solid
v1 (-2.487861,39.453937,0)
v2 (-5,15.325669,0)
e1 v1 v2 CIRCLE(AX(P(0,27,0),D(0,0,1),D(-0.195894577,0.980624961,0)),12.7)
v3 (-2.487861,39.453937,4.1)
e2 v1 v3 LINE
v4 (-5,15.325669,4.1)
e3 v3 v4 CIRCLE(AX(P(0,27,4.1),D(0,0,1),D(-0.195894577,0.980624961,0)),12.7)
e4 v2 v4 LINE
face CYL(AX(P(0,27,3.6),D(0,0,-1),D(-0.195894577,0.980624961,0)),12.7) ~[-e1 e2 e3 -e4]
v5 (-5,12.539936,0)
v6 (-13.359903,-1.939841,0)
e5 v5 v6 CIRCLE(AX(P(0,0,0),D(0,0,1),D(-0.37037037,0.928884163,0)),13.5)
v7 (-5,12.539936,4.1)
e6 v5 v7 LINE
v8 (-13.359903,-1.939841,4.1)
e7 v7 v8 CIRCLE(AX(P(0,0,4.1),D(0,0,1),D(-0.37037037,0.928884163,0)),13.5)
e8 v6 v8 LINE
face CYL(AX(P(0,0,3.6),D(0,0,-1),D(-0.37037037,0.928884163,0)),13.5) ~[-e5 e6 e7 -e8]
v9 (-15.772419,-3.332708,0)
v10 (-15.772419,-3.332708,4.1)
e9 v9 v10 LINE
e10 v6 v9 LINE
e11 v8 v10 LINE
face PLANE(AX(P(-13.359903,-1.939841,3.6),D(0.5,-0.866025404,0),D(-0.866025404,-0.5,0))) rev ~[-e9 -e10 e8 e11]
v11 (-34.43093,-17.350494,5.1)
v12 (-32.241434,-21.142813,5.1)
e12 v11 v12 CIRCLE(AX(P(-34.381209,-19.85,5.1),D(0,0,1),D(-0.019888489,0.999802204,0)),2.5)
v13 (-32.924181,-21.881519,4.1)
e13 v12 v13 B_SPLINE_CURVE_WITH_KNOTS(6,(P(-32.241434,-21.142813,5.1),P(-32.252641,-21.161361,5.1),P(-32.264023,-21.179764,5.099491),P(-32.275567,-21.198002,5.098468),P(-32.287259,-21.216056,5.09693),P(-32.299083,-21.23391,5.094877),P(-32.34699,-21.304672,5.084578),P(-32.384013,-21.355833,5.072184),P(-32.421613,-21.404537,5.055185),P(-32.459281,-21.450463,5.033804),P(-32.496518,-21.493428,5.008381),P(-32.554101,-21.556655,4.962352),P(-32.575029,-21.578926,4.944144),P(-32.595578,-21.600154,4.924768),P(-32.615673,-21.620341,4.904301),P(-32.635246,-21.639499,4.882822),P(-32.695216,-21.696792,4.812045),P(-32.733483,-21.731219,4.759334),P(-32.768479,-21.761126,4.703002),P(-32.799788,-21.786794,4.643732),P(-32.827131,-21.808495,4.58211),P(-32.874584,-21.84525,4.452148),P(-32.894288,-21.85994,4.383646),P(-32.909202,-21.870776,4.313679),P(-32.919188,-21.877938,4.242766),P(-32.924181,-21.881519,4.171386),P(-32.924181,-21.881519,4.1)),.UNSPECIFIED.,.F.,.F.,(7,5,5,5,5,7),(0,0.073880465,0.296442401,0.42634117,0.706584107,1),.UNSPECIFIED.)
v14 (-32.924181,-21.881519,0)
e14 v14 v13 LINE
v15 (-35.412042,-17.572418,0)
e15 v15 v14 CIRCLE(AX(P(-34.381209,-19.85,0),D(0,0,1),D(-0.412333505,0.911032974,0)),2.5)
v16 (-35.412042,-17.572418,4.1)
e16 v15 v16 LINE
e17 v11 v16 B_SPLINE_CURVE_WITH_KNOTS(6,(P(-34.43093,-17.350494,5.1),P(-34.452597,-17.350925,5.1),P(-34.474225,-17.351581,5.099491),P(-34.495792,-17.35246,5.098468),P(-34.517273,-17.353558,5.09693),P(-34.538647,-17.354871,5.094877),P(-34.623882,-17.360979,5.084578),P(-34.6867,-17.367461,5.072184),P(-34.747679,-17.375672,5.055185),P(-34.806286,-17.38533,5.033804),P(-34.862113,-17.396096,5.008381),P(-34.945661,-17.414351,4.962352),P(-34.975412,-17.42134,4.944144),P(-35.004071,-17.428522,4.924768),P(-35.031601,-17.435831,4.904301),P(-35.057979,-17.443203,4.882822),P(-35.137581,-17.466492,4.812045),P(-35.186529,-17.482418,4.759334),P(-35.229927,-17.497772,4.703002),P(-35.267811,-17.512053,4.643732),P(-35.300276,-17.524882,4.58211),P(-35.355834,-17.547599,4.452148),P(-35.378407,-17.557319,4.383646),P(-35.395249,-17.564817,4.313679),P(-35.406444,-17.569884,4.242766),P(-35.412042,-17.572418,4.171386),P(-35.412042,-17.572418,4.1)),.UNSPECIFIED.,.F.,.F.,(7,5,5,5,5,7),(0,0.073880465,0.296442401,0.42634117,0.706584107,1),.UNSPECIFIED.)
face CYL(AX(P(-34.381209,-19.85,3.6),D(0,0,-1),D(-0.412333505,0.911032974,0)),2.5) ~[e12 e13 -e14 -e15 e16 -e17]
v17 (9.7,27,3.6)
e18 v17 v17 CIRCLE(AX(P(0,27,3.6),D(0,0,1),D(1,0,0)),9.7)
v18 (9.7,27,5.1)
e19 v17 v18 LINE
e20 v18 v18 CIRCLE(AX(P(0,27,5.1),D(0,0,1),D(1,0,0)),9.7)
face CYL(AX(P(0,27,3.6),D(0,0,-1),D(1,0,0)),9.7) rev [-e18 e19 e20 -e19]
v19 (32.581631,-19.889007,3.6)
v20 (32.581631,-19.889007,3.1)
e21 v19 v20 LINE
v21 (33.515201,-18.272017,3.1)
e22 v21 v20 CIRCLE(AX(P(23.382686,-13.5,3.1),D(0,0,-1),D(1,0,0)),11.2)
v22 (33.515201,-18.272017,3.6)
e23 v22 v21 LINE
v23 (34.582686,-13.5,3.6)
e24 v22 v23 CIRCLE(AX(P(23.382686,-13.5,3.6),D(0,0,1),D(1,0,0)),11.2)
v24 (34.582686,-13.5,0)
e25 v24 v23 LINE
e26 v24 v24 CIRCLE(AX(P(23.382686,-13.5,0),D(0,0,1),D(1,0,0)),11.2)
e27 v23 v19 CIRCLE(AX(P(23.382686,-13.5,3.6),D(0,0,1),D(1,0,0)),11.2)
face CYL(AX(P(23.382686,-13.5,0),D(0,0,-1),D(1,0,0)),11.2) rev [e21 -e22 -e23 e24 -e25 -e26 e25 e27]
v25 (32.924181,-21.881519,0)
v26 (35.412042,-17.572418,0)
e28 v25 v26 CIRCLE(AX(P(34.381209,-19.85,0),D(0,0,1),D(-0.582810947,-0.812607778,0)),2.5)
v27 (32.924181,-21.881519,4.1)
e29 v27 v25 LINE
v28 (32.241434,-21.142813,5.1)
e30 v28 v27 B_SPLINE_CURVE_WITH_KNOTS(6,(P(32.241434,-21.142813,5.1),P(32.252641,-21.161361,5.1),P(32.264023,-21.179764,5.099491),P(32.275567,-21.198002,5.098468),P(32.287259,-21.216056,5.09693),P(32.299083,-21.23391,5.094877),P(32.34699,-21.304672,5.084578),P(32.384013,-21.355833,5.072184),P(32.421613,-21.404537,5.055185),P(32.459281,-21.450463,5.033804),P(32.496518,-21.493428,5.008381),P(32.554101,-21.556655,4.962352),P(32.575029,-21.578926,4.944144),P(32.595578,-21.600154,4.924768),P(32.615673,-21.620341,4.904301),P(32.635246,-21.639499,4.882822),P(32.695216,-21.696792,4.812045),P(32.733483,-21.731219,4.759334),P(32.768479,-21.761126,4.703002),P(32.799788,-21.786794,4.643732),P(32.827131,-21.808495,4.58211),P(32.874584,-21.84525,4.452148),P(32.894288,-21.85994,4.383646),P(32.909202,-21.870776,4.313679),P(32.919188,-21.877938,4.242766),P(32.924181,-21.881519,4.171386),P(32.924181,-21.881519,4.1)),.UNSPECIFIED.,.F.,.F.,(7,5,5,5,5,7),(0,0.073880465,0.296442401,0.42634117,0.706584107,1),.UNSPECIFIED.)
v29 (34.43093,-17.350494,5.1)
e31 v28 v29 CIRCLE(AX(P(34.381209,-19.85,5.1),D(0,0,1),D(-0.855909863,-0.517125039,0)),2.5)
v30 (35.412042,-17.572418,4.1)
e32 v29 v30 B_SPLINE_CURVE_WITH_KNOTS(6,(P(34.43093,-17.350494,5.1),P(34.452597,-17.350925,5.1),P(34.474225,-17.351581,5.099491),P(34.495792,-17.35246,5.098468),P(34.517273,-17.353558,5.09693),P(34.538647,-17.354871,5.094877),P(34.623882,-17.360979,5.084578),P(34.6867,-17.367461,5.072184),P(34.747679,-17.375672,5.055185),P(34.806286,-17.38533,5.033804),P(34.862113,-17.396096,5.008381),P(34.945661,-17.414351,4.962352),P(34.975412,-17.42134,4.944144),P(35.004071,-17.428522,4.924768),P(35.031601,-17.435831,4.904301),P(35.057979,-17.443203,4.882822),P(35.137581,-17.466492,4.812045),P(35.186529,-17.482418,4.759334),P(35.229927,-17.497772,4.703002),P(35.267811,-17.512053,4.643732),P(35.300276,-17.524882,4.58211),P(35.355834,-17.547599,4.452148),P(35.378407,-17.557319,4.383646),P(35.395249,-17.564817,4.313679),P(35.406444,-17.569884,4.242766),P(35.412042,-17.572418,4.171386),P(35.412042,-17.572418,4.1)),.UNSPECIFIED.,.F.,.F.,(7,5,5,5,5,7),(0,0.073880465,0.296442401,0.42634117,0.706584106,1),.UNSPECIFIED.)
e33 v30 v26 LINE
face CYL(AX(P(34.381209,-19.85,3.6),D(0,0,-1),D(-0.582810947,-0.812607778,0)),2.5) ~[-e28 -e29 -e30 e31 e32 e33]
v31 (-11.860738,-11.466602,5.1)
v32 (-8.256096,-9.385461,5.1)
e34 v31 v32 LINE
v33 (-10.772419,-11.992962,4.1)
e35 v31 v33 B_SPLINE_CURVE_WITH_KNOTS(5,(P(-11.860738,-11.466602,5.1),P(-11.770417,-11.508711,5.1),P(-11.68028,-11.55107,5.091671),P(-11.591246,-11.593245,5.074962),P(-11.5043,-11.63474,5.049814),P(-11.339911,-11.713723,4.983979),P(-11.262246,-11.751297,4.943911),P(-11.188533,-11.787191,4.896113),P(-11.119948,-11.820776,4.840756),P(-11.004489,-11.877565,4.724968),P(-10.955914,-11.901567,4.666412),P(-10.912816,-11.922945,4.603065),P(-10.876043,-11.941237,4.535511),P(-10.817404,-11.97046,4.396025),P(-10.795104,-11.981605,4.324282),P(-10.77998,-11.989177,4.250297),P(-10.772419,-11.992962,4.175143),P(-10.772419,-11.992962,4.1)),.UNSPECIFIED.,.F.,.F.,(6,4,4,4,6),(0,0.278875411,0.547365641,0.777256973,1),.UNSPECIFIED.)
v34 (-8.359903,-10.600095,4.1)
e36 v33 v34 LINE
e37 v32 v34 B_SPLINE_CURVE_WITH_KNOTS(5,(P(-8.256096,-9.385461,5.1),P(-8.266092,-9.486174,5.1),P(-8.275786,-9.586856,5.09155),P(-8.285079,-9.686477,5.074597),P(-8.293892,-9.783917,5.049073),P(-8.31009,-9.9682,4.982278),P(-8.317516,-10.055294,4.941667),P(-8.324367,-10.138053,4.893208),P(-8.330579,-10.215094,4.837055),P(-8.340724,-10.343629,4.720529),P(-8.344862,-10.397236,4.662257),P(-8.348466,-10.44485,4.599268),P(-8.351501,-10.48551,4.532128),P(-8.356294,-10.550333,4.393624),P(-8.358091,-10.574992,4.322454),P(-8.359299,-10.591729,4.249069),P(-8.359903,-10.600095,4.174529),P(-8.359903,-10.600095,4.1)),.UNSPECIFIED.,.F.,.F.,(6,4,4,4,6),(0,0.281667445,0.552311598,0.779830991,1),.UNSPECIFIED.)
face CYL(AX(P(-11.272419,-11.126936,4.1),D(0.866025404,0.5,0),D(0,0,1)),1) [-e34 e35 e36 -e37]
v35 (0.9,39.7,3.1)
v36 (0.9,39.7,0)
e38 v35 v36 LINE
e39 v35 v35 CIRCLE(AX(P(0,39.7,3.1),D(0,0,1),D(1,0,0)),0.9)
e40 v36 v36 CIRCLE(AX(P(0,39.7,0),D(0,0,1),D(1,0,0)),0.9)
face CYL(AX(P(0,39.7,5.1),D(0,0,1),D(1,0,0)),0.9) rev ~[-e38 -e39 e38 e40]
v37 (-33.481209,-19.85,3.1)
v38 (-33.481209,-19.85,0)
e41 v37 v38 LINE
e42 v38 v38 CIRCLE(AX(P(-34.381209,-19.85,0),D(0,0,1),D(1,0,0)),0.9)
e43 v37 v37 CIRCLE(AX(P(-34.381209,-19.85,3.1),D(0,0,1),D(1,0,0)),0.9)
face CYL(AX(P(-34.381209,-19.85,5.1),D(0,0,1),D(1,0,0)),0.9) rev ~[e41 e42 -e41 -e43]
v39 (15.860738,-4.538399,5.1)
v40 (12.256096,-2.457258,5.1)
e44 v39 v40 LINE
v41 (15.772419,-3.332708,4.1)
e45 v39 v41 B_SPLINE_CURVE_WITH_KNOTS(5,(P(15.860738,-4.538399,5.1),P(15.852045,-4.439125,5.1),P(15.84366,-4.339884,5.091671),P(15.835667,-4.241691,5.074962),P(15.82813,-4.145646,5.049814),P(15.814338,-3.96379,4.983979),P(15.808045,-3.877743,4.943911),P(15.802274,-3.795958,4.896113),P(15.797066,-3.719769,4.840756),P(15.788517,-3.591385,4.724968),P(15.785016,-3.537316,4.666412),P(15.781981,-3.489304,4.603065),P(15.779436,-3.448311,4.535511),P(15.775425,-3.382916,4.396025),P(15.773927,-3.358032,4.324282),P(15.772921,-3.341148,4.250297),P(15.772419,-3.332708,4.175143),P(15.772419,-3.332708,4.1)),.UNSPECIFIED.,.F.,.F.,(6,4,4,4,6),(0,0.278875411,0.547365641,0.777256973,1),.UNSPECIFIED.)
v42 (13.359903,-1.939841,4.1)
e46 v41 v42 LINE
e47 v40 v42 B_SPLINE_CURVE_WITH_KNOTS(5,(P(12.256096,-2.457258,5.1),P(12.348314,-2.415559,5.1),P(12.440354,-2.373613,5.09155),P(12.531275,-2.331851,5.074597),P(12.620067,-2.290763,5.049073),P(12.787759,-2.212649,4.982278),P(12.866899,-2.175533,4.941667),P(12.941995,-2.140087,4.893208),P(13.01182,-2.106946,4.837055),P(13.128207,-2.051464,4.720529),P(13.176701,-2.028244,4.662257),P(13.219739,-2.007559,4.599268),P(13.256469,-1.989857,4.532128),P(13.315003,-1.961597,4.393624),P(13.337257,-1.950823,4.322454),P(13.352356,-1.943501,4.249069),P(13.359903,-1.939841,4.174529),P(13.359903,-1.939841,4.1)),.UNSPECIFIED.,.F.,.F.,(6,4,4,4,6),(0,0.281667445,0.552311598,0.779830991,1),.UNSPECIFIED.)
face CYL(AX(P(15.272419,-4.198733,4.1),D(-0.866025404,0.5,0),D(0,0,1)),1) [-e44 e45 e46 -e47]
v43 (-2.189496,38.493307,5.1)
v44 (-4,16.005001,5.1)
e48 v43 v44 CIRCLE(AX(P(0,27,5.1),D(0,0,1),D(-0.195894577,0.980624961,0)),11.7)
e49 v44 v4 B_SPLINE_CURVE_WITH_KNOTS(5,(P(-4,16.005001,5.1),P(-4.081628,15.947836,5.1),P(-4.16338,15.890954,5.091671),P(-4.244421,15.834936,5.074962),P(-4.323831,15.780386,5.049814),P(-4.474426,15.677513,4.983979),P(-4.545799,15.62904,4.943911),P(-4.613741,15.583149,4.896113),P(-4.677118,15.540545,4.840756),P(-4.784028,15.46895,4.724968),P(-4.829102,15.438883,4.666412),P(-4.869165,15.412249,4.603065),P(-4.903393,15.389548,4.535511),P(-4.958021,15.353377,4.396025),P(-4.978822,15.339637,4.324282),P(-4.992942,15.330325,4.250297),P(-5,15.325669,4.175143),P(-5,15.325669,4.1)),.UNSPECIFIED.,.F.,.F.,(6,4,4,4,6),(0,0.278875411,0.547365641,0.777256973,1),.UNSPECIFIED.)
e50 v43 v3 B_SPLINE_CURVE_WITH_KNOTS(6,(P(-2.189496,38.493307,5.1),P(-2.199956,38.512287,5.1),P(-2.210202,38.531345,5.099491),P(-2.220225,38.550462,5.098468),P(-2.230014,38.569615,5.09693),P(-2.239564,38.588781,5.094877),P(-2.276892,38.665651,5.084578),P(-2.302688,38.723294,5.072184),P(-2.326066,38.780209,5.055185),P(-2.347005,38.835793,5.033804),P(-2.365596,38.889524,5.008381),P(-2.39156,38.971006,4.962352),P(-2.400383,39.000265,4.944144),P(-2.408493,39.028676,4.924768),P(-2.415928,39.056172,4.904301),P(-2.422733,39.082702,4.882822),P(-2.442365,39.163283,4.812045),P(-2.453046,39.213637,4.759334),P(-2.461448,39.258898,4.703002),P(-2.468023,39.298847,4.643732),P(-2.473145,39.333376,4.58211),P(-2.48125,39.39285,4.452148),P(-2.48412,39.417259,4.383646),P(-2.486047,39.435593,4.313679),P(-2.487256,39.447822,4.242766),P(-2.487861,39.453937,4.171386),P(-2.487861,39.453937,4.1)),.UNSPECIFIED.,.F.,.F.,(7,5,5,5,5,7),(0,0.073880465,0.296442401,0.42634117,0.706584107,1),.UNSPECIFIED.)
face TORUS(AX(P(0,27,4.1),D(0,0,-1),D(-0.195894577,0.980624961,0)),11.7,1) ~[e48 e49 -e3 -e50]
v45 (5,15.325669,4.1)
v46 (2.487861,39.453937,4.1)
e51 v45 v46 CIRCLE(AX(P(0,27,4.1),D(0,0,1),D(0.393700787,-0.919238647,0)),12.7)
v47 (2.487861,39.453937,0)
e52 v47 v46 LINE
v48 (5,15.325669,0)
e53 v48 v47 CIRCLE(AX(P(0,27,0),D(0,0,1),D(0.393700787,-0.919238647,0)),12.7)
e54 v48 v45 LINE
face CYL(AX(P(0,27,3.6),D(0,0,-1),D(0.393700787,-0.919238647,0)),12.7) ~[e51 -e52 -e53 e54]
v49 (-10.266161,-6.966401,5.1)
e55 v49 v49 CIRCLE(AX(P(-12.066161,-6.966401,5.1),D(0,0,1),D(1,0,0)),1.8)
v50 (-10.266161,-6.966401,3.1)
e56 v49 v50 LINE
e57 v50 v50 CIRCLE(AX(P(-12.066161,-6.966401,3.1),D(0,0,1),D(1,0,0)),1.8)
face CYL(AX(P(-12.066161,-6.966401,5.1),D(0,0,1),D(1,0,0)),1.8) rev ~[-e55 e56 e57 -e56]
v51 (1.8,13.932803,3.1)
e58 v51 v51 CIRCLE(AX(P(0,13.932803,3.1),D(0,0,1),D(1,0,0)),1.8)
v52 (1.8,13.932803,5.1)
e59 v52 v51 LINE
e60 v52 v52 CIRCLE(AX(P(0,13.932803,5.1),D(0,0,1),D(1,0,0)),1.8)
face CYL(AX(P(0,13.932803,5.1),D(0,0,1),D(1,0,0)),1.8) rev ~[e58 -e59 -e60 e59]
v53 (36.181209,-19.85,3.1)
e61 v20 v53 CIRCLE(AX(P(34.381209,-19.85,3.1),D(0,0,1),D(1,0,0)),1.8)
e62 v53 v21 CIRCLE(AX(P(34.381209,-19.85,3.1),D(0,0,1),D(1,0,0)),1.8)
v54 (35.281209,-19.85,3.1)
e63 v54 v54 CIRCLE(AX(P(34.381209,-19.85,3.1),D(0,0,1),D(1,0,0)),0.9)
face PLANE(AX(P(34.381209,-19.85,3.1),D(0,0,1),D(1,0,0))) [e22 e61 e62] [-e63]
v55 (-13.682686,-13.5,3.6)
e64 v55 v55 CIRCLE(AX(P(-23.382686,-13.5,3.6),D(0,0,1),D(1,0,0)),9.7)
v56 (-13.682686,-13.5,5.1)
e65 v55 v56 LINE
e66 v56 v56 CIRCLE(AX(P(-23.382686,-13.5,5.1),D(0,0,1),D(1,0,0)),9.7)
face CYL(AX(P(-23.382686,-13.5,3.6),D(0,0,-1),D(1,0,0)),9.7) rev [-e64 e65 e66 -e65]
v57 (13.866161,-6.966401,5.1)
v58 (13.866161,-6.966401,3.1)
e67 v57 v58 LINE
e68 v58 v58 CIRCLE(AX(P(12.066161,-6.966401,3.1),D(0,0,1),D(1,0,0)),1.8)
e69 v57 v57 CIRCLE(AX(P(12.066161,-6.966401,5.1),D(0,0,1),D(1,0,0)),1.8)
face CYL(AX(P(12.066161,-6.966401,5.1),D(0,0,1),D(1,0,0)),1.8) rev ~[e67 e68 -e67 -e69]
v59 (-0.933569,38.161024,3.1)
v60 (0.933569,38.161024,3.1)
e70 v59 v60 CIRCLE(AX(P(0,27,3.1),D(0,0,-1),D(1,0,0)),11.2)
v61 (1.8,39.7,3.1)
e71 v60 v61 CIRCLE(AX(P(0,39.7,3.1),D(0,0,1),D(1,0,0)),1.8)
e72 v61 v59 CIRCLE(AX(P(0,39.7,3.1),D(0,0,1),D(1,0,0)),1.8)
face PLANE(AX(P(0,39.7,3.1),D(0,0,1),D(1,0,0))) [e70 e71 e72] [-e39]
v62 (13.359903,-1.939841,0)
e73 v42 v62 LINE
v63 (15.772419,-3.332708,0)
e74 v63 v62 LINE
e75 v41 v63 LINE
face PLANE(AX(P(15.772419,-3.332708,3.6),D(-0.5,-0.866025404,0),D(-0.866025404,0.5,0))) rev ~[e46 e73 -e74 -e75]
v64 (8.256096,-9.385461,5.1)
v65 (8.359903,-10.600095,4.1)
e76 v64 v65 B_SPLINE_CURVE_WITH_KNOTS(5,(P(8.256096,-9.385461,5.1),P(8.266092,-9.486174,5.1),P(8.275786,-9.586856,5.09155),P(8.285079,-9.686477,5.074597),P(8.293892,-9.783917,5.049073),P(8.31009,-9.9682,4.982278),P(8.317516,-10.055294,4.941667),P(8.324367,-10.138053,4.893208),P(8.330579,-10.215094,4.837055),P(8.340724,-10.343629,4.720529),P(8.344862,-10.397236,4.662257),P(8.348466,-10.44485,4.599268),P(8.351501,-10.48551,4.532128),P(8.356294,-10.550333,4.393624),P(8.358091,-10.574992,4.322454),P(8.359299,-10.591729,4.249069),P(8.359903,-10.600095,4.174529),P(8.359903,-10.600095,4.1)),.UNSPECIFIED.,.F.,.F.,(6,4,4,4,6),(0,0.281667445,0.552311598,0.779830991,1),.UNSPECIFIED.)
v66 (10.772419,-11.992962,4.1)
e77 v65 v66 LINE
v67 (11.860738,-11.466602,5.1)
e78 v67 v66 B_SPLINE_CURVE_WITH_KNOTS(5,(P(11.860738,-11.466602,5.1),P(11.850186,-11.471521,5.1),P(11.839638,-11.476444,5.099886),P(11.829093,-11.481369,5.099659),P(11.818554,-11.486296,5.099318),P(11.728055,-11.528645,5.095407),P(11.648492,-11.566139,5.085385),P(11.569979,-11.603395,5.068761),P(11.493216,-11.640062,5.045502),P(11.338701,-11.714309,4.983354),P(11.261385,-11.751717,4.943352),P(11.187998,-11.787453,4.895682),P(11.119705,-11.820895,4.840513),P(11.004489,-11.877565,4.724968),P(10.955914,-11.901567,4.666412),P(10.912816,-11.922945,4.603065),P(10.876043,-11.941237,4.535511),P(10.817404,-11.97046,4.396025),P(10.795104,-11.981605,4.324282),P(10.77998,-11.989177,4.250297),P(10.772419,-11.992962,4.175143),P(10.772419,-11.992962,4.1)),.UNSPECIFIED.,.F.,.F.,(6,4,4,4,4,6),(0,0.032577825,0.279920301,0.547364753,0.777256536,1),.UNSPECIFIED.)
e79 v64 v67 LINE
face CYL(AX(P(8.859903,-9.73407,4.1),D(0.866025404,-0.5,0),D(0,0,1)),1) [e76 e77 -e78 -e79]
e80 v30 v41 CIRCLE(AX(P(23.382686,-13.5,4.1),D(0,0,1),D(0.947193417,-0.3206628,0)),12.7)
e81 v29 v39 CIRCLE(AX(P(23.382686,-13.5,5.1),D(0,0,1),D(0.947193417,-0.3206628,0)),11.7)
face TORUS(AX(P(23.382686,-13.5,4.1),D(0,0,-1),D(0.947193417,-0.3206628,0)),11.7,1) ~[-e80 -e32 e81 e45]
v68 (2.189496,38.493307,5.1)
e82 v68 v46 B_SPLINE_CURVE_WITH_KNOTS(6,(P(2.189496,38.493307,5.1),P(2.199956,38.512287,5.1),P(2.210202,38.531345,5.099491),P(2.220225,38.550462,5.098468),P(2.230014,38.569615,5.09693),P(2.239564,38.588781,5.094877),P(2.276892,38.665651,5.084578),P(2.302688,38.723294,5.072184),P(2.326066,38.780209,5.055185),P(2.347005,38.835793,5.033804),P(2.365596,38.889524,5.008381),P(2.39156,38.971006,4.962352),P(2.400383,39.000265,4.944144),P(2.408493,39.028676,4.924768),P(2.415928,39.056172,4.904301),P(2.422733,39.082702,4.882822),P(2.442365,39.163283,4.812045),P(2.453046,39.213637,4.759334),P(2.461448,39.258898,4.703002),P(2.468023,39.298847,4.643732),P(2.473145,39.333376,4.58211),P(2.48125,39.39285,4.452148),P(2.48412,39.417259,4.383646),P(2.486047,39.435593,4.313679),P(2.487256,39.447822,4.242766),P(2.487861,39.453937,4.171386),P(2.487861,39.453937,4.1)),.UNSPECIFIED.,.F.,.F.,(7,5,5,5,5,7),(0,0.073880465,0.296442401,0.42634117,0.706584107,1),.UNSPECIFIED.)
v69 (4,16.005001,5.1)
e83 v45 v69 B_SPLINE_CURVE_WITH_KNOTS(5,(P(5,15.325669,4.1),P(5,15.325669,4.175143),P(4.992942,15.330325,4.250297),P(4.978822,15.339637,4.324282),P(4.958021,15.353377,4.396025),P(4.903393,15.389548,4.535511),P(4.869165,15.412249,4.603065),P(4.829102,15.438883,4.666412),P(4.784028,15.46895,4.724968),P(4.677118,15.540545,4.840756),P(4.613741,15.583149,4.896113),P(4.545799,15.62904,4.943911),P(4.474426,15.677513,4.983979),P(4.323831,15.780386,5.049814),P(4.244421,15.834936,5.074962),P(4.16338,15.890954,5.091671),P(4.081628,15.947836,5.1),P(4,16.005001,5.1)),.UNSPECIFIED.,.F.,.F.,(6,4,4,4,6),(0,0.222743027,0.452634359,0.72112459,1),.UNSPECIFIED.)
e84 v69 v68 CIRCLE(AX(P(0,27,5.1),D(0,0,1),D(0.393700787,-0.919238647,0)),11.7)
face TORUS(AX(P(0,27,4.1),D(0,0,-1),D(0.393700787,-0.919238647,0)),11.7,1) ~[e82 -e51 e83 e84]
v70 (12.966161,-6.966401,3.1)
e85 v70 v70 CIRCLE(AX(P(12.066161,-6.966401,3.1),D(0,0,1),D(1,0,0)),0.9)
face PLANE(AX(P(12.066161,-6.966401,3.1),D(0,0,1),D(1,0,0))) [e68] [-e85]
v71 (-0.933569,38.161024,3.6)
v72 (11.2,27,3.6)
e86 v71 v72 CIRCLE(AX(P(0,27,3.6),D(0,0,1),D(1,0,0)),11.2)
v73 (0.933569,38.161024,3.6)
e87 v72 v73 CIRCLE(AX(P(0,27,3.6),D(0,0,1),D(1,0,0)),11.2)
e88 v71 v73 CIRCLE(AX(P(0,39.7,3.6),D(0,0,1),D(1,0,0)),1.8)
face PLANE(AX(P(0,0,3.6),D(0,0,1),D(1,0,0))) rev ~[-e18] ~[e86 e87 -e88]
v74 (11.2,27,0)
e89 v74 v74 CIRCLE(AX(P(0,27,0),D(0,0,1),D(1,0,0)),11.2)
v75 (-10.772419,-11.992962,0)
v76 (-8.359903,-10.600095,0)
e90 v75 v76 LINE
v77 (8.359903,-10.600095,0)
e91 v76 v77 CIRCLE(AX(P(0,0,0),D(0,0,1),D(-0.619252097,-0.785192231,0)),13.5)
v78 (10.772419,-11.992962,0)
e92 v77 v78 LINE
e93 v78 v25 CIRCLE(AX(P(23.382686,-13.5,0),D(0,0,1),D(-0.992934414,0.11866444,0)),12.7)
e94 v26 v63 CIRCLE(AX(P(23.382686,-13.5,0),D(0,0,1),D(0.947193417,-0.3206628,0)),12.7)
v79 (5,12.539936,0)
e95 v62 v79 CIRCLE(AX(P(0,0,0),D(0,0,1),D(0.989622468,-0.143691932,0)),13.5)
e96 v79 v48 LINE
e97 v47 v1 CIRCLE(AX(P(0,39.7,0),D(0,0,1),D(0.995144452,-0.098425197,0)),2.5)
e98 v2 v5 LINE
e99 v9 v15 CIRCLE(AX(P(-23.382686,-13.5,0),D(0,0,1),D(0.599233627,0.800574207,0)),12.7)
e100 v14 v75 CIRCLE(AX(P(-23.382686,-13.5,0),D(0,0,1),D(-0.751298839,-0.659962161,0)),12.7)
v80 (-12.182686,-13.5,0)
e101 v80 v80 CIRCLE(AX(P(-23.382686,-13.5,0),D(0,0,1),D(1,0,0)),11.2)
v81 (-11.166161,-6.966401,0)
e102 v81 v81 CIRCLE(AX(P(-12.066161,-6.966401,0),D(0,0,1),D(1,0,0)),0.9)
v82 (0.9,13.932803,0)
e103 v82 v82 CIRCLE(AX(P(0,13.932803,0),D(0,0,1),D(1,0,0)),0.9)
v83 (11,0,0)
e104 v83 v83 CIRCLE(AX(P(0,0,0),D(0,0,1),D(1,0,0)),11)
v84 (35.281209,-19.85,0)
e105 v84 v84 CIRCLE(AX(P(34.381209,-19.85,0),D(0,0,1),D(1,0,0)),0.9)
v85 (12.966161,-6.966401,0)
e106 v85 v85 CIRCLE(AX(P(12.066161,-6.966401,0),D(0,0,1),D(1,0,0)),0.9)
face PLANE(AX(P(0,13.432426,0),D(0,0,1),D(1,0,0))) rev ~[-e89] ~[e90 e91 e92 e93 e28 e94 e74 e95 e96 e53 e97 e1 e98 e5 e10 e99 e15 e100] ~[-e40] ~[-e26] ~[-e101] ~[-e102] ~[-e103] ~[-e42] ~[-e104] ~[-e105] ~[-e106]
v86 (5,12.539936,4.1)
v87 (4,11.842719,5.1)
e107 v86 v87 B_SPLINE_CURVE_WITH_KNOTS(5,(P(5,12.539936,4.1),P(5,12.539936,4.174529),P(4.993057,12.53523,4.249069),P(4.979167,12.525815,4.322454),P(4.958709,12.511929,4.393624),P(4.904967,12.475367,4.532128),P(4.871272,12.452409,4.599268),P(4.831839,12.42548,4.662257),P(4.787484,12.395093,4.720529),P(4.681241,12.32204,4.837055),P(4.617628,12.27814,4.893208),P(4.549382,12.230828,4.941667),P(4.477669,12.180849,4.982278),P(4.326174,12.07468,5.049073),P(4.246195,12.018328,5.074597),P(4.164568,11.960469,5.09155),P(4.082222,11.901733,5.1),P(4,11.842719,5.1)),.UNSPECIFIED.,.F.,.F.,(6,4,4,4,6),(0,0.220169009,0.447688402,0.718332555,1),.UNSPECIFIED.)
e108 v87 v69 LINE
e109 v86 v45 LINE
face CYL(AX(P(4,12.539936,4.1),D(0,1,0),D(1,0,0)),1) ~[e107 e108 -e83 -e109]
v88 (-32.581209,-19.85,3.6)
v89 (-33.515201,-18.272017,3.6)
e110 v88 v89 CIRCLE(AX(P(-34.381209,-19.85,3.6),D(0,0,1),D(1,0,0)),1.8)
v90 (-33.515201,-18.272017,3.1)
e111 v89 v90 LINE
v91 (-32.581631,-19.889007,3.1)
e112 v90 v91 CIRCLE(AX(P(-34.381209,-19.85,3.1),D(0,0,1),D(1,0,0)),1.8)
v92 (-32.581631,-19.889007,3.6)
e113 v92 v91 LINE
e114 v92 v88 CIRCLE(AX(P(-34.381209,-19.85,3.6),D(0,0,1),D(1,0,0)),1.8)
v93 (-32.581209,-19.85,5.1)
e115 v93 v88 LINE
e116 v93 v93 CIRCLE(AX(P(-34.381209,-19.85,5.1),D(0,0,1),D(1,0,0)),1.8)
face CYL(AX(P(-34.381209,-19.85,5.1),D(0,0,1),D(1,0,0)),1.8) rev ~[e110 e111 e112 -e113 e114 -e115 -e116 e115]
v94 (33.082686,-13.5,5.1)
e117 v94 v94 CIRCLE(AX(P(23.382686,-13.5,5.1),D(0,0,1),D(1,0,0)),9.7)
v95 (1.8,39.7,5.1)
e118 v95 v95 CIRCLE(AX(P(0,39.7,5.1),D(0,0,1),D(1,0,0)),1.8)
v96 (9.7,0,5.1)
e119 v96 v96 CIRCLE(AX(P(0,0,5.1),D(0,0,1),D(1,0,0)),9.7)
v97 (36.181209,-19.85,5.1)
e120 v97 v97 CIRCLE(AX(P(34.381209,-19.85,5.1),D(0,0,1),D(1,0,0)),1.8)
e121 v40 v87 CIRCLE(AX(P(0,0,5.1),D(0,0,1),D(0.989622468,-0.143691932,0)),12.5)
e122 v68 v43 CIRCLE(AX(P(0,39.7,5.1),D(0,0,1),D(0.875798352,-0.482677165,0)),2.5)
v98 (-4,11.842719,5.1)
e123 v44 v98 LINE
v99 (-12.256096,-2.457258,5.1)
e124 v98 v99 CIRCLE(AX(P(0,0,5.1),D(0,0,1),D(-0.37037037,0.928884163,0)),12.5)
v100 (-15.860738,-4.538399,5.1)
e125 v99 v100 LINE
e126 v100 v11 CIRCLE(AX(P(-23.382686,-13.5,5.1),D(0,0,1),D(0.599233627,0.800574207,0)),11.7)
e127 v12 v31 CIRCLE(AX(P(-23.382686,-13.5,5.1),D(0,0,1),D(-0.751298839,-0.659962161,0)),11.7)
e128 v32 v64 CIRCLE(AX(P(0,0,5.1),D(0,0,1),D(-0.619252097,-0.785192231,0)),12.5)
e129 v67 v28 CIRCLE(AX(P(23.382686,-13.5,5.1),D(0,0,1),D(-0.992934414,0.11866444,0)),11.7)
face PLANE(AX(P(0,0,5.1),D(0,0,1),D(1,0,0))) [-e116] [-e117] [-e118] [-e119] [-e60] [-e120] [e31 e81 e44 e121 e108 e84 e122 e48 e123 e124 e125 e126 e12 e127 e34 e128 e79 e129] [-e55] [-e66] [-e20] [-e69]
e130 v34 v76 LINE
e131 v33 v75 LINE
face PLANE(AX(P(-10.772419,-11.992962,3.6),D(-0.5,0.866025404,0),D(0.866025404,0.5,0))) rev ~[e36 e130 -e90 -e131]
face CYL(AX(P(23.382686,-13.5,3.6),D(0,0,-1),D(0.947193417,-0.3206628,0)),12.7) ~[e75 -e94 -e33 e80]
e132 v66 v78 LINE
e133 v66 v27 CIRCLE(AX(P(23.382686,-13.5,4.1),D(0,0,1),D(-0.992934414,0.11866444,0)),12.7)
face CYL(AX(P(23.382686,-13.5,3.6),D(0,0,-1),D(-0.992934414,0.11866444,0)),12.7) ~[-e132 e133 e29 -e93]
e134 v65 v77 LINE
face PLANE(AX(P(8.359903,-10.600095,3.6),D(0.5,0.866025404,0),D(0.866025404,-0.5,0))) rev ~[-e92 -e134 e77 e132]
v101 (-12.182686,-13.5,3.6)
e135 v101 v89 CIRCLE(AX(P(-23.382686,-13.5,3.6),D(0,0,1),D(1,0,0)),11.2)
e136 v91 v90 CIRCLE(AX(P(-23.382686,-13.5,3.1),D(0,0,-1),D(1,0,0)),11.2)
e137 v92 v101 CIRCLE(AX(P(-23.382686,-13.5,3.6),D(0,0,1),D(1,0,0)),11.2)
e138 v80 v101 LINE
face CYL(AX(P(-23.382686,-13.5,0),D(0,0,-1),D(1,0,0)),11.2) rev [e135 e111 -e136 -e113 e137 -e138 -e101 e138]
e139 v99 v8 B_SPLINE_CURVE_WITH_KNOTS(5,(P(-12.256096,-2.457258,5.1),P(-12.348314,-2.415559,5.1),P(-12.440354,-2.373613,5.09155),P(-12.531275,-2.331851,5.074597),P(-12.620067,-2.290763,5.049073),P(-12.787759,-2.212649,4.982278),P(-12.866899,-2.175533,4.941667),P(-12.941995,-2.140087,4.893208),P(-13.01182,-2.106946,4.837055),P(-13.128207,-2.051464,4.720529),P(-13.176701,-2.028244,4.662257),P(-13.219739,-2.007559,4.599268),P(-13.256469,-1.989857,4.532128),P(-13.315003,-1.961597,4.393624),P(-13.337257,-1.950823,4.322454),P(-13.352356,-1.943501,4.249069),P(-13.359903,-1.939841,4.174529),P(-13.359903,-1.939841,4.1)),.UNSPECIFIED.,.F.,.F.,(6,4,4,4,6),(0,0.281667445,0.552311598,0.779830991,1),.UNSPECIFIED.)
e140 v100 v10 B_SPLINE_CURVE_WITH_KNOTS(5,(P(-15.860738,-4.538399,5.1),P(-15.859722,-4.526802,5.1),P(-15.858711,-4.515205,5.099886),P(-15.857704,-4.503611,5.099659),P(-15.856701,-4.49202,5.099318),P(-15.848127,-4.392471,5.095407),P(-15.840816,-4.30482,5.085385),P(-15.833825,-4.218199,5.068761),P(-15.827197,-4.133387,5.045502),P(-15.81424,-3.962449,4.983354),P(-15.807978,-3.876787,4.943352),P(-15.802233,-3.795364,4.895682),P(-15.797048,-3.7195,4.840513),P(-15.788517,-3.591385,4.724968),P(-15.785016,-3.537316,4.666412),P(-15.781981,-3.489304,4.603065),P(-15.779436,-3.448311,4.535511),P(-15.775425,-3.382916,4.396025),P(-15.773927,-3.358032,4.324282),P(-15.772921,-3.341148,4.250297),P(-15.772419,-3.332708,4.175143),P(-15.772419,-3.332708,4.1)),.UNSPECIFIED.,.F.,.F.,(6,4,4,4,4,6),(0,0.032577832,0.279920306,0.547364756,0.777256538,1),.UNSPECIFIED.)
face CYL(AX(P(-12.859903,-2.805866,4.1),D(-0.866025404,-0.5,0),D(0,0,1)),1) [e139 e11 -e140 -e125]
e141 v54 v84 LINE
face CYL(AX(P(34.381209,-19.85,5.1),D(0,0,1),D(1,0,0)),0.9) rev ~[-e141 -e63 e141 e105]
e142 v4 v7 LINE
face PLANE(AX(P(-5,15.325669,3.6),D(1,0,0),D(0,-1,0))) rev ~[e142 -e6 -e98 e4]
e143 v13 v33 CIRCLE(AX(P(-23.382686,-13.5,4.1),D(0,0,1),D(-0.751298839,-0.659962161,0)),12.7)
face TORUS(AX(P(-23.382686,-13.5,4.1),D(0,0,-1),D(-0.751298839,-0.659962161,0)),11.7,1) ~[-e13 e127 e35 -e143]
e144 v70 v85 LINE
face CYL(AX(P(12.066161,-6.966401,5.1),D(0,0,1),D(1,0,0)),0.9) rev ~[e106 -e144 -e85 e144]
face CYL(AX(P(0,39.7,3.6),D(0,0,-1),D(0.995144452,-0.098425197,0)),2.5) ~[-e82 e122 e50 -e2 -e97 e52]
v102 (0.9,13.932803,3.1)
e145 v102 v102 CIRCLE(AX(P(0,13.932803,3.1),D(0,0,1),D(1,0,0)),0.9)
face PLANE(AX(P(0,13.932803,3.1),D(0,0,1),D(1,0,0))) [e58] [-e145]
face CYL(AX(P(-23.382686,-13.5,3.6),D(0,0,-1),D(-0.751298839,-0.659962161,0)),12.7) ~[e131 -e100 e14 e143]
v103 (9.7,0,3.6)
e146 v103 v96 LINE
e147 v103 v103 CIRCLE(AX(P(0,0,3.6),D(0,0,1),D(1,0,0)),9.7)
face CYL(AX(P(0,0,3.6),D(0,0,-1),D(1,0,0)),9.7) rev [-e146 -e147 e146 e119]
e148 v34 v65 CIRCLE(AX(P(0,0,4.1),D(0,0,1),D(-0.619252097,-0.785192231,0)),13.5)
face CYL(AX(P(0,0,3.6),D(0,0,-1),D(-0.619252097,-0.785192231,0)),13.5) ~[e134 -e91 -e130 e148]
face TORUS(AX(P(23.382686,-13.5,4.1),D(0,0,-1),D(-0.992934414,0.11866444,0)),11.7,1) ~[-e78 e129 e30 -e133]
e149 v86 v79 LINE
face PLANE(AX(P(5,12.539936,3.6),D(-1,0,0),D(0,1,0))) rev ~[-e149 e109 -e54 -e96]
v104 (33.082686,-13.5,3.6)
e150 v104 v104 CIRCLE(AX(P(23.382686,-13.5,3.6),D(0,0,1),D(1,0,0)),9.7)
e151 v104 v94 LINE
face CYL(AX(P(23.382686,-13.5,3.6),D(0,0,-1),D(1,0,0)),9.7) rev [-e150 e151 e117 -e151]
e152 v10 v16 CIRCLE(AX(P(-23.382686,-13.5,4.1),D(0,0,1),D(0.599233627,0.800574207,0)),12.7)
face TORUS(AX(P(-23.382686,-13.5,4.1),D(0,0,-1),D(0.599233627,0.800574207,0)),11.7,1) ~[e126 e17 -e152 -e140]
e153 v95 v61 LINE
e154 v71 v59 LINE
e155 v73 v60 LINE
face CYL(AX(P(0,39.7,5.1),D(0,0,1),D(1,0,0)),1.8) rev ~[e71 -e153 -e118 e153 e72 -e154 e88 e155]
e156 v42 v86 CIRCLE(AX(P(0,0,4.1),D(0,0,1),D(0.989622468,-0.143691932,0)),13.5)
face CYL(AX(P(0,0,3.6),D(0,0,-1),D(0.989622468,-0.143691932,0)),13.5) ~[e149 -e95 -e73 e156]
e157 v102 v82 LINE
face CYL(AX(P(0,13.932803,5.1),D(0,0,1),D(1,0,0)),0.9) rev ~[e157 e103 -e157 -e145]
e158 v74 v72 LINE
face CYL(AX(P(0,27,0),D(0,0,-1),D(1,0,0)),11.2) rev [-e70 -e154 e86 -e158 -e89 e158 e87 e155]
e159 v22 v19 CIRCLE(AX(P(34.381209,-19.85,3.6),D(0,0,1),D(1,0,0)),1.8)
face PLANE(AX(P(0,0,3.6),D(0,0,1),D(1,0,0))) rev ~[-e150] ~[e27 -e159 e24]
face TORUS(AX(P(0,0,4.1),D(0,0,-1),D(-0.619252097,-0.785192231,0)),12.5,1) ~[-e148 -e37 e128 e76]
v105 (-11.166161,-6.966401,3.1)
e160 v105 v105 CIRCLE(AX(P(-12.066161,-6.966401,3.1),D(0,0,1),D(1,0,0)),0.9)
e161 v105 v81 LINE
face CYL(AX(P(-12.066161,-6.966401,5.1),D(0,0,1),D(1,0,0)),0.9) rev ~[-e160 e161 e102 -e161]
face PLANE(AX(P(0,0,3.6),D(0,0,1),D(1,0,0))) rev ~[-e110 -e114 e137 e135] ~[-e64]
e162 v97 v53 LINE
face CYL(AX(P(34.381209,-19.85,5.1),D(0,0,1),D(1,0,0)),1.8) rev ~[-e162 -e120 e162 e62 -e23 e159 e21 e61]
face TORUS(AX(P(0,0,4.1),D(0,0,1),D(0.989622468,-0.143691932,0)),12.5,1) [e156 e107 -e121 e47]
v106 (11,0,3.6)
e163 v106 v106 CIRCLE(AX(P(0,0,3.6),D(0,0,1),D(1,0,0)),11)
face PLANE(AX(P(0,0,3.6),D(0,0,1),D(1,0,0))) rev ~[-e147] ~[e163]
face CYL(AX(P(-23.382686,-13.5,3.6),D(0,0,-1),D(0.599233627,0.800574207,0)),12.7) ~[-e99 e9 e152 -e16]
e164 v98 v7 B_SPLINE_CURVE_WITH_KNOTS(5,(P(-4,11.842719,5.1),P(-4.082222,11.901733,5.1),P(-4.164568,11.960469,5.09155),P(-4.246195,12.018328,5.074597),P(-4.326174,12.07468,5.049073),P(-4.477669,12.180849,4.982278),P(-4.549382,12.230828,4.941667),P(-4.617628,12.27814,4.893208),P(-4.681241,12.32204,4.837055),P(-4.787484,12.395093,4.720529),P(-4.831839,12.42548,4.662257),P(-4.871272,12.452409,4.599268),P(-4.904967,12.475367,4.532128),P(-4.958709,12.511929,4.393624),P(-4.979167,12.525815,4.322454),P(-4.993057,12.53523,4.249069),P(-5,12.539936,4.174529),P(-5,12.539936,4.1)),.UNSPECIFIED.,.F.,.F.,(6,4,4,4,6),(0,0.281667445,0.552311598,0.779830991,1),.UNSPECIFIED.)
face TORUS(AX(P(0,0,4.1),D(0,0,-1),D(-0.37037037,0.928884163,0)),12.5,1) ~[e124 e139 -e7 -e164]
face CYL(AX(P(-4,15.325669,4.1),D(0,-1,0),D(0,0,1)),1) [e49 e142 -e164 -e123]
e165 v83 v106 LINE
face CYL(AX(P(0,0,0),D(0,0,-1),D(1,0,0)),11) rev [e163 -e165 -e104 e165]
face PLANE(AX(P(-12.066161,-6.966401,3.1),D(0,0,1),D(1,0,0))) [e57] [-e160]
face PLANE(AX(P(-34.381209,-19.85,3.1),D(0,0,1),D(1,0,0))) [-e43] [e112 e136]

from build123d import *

# Parameters (mm, degrees)
F0_R     = 11
F0_R_2   = 11.2
F1_DEPTH = 3.6
F2_R     = 11.2
F2_R_2   = 11
F2_R_3   = 9.7
F3_DEPTH = 1.5
F4_R     = 1.8
F5_DEPTH = 2
F6_R     = 0.9
F7_DEPTH = 5.1
F8_R     = 1


with BuildPart() as f1:
    # F0 (on Top) → F1 (new body)
    with BuildSketch(Plane.XY):
        with BuildLine():
            ThreePointArc((-2.4878611303, 39.4539370079), (-12.6317197215, 28.3151642022), (-5, 15.3256691841))
            Line((-5, 15.3256691841), (-5, 12.539936204))
            ThreePointArc((-5, 12.539936204), (-11.6913429511, 6.75), (-13.3599033145, -1.9398410831))
            ThreePointArc((-13.3599033145, -1.9398410831), (-11.6913429511, -6.75), (-8.3599033145, -10.6000951209))
            ThreePointArc((-8.3599033145, -10.6000951209), (0, -13.5), (8.3599033145, -10.6000951209))
            ThreePointArc((8.3599033145, -10.6000951209), (11.6913429511, -6.75), (13.3599033145, -1.9398410831))
            ThreePointArc((13.3599033145, -1.9398410831), (11.6913429511, 6.75), (5, 12.539936204))
            Line((5, 12.539936204), (5, 15.3256691841))
            ThreePointArc((5, 15.3256691841), (12.6317197215, 28.3151642022), (2.4878611303, 39.4539370079))
            ThreePointArc((2.4878611303, 39.4539370079), (0, 42.2), (-2.4878611303, 39.4539370079))
        make_face()
        Circle(F0_R, mode=Mode.SUBTRACT)
        with Locations((0, 27)):
            Circle(F0_R_2, mode=Mode.SUBTRACT)
        with BuildLine():
            ThreePointArc((-8.3599033145, -10.6000951209), (-11.6913429511, -6.75), (-13.3599033145, -1.9398410831))
            Line((-13.3599033145, -1.9398410831), (-15.7724188434, -3.3327075731))
            ThreePointArc((-15.7724188434, -3.3327075731), (-30.8375113722, -3.2181919288), (-35.4120422933, -17.572417564))
            ThreePointArc((-35.4120422933, -17.572417564), (-36.5462720397, -21.1), (-32.924181163, -21.8815194439))
            ThreePointArc((-32.924181163, -21.8815194439), (-18.2057916507, -25.0969722734), (-10.7724188434, -11.992961611))
            Line((-10.7724188434, -11.992961611), (-8.3599033145, -10.6000951209))
        make_face()
        with Locations((-23.3826859022, -13.5)):
            Circle(F0_R_2, mode=Mode.SUBTRACT)
        with BuildLine():
            ThreePointArc((13.3599033145, -1.9398410831), (11.6913429511, -6.75), (8.3599033145, -10.6000951209))
            Line((8.3599033145, -10.6000951209), (10.7724188434, -11.992961611))
            ThreePointArc((10.7724188434, -11.992961611), (18.2057916507, -25.0969722734), (32.924181163, -21.8815194439))
            ThreePointArc((32.924181163, -21.8815194439), (36.5462720397, -21.1), (35.4120422933, -17.572417564))
            ThreePointArc((35.4120422933, -17.572417564), (30.8375113722, -3.2181919288), (15.7724188434, -3.3327075731))
            Line((15.7724188434, -3.3327075731), (13.3599033145, -1.9398410831))
        make_face()
        with Locations((23.3826859022, -13.5)):
            Circle(F0_R_2, mode=Mode.SUBTRACT)
    extrude(amount=F1_DEPTH)

    # F2 (on face) → F3 (join)
    with BuildSketch(Plane.XY.offset(3.6)):
        with BuildLine():
            Line((5, 12.539936204), (5, 15.3256691841))
            ThreePointArc((5, 15.3256691841), (12.6317197215, 28.3151642022), (2.4878611303, 39.4539370079))
            ThreePointArc((2.4878611303, 39.4539370079), (0, 42.2), (-2.4878611303, 39.4539370079))
            ThreePointArc((-2.4878611303, 39.4539370079), (-12.6317197215, 28.3151642022), (-5, 15.3256691841))
            Line((-5, 15.3256691841), (-5, 12.539936204))
            ThreePointArc((-5, 12.539936204), (-11.6913429511, 6.75), (-13.3599033145, -1.9398410831))
            Line((-13.3599033145, -1.9398410831), (-15.7724188434, -3.3327075731))
            ThreePointArc((-15.7724188434, -3.3327075731), (-30.8375113722, -3.2181919288), (-35.4120422933, -17.572417564))
            ThreePointArc((-35.4120422933, -17.572417564), (-36.5462720397, -21.1), (-32.924181163, -21.8815194439))
            ThreePointArc((-32.924181163, -21.8815194439), (-18.2057916507, -25.0969722734), (-10.7724188434, -11.992961611))
            Line((-10.7724188434, -11.992961611), (-8.3599033145, -10.6000951209))
            ThreePointArc((-8.3599033145, -10.6000951209), (0, -13.5), (8.3599033145, -10.6000951209))
            Line((8.3599033145, -10.6000951209), (10.7724188434, -11.992961611))
            ThreePointArc((10.7724188434, -11.992961611), (18.2057916507, -25.0969722734), (32.924181163, -21.8815194439))
            ThreePointArc((32.924181163, -21.8815194439), (36.5462720397, -21.1), (35.4120422933, -17.572417564))
            ThreePointArc((35.4120422933, -17.572417564), (30.8375113722, -3.2181919288), (15.7724188434, -3.3327075731))
            Line((15.7724188434, -3.3327075731), (13.3599033145, -1.9398410831))
            ThreePointArc((13.3599033145, -1.9398410831), (11.6913429511, 6.75), (5, 12.539936204))
        make_face()
        with Locations((-23.3826859022, -13.5)):
            Circle(F2_R, mode=Mode.SUBTRACT)
        with Locations((23.3826859022, -13.5)):
            Circle(F2_R, mode=Mode.SUBTRACT)
        Circle(F2_R_2, mode=Mode.SUBTRACT)
        with Locations((0, 27)):
            Circle(F2_R, mode=Mode.SUBTRACT)
        with Locations((0, 27)):
            Circle(F2_R)
        with Locations((0, 27)):
            Circle(F2_R_3, mode=Mode.SUBTRACT)
        with Locations((-23.3826859022, -13.5)):
            Circle(F2_R)
        with Locations((-23.3826859022, -13.5)):
            Circle(F2_R_3, mode=Mode.SUBTRACT)
        with Locations((23.3826859022, -13.5)):
            Circle(F2_R)
        with Locations((23.3826859022, -13.5)):
            Circle(F2_R_3, mode=Mode.SUBTRACT)
        Circle(F2_R_2)
        Circle(F2_R_3, mode=Mode.SUBTRACT)
    extrude(amount=F3_DEPTH)

    # F4 (on face) → F5 (cut)
    with BuildSketch(Plane.XY.offset(5.1)):
        with Locations((0, 39.7)):
            Circle(F4_R)
        with Locations((0, 13.932802694)):
            Circle(F4_R)
        with Locations((-12.0661610789, -6.966401347)):
            Circle(F4_R)
        with Locations((-34.3812085302, -19.85)):
            Circle(F4_R)
        with Locations((12.0661610789, -6.966401347)):
            Circle(F4_R)
        with Locations((34.3812085302, -19.85)):
            Circle(F4_R)
    extrude(amount=-F5_DEPTH, mode=Mode.SUBTRACT)

    # F6 (on face) → F7 (cut, through all)
    with BuildSketch(Plane.XY.offset(5.1)):
        with Locations((0, 39.7)):
            Circle(F6_R)
        with Locations((0, 13.932802694)):
            Circle(F6_R)
        with Locations((-12.0661610789, -6.966401347)):
            Circle(F6_R)
        with Locations((-34.3812085302, -19.85)):
            Circle(F6_R)
        with Locations((12.0661610789, -6.966401347)):
            Circle(F6_R)
        with Locations((34.3812085302, -19.85)):
            Circle(F6_R)
    extrude(amount=-F7_DEPTH, mode=Mode.SUBTRACT)

    # F8
    f8_edges = [f1.edges().sort_by_distance(p)[0] for p in [
        (-18.205792, -25.096972, 5.1),
        (-9.566161, -11.296528, 5.1),
        (0, -13.5, 5.1),
        (9.566161, -11.296528, 5.1),
        (18.205792, -25.096972, 5.1),
        (30.837511, -3.218192, 5.1),
        (14.566161, -2.636274, 5.1),
        (11.691343, 6.75, 5.1),
        (5, 13.932803, 5.1),
        (12.63172, 28.315164, 5.1),
        (-12.63172, 28.315164, 5.1),
        (-5, 13.932803, 5.1),
        (-11.691343, 6.75, 5.1),
        (-14.566161, -2.636274, 5.1),
        (-30.837511, -3.218192, 5.1),
    ]]
    fillet(f8_edges, radius=F8_R)


solid = f1.part
